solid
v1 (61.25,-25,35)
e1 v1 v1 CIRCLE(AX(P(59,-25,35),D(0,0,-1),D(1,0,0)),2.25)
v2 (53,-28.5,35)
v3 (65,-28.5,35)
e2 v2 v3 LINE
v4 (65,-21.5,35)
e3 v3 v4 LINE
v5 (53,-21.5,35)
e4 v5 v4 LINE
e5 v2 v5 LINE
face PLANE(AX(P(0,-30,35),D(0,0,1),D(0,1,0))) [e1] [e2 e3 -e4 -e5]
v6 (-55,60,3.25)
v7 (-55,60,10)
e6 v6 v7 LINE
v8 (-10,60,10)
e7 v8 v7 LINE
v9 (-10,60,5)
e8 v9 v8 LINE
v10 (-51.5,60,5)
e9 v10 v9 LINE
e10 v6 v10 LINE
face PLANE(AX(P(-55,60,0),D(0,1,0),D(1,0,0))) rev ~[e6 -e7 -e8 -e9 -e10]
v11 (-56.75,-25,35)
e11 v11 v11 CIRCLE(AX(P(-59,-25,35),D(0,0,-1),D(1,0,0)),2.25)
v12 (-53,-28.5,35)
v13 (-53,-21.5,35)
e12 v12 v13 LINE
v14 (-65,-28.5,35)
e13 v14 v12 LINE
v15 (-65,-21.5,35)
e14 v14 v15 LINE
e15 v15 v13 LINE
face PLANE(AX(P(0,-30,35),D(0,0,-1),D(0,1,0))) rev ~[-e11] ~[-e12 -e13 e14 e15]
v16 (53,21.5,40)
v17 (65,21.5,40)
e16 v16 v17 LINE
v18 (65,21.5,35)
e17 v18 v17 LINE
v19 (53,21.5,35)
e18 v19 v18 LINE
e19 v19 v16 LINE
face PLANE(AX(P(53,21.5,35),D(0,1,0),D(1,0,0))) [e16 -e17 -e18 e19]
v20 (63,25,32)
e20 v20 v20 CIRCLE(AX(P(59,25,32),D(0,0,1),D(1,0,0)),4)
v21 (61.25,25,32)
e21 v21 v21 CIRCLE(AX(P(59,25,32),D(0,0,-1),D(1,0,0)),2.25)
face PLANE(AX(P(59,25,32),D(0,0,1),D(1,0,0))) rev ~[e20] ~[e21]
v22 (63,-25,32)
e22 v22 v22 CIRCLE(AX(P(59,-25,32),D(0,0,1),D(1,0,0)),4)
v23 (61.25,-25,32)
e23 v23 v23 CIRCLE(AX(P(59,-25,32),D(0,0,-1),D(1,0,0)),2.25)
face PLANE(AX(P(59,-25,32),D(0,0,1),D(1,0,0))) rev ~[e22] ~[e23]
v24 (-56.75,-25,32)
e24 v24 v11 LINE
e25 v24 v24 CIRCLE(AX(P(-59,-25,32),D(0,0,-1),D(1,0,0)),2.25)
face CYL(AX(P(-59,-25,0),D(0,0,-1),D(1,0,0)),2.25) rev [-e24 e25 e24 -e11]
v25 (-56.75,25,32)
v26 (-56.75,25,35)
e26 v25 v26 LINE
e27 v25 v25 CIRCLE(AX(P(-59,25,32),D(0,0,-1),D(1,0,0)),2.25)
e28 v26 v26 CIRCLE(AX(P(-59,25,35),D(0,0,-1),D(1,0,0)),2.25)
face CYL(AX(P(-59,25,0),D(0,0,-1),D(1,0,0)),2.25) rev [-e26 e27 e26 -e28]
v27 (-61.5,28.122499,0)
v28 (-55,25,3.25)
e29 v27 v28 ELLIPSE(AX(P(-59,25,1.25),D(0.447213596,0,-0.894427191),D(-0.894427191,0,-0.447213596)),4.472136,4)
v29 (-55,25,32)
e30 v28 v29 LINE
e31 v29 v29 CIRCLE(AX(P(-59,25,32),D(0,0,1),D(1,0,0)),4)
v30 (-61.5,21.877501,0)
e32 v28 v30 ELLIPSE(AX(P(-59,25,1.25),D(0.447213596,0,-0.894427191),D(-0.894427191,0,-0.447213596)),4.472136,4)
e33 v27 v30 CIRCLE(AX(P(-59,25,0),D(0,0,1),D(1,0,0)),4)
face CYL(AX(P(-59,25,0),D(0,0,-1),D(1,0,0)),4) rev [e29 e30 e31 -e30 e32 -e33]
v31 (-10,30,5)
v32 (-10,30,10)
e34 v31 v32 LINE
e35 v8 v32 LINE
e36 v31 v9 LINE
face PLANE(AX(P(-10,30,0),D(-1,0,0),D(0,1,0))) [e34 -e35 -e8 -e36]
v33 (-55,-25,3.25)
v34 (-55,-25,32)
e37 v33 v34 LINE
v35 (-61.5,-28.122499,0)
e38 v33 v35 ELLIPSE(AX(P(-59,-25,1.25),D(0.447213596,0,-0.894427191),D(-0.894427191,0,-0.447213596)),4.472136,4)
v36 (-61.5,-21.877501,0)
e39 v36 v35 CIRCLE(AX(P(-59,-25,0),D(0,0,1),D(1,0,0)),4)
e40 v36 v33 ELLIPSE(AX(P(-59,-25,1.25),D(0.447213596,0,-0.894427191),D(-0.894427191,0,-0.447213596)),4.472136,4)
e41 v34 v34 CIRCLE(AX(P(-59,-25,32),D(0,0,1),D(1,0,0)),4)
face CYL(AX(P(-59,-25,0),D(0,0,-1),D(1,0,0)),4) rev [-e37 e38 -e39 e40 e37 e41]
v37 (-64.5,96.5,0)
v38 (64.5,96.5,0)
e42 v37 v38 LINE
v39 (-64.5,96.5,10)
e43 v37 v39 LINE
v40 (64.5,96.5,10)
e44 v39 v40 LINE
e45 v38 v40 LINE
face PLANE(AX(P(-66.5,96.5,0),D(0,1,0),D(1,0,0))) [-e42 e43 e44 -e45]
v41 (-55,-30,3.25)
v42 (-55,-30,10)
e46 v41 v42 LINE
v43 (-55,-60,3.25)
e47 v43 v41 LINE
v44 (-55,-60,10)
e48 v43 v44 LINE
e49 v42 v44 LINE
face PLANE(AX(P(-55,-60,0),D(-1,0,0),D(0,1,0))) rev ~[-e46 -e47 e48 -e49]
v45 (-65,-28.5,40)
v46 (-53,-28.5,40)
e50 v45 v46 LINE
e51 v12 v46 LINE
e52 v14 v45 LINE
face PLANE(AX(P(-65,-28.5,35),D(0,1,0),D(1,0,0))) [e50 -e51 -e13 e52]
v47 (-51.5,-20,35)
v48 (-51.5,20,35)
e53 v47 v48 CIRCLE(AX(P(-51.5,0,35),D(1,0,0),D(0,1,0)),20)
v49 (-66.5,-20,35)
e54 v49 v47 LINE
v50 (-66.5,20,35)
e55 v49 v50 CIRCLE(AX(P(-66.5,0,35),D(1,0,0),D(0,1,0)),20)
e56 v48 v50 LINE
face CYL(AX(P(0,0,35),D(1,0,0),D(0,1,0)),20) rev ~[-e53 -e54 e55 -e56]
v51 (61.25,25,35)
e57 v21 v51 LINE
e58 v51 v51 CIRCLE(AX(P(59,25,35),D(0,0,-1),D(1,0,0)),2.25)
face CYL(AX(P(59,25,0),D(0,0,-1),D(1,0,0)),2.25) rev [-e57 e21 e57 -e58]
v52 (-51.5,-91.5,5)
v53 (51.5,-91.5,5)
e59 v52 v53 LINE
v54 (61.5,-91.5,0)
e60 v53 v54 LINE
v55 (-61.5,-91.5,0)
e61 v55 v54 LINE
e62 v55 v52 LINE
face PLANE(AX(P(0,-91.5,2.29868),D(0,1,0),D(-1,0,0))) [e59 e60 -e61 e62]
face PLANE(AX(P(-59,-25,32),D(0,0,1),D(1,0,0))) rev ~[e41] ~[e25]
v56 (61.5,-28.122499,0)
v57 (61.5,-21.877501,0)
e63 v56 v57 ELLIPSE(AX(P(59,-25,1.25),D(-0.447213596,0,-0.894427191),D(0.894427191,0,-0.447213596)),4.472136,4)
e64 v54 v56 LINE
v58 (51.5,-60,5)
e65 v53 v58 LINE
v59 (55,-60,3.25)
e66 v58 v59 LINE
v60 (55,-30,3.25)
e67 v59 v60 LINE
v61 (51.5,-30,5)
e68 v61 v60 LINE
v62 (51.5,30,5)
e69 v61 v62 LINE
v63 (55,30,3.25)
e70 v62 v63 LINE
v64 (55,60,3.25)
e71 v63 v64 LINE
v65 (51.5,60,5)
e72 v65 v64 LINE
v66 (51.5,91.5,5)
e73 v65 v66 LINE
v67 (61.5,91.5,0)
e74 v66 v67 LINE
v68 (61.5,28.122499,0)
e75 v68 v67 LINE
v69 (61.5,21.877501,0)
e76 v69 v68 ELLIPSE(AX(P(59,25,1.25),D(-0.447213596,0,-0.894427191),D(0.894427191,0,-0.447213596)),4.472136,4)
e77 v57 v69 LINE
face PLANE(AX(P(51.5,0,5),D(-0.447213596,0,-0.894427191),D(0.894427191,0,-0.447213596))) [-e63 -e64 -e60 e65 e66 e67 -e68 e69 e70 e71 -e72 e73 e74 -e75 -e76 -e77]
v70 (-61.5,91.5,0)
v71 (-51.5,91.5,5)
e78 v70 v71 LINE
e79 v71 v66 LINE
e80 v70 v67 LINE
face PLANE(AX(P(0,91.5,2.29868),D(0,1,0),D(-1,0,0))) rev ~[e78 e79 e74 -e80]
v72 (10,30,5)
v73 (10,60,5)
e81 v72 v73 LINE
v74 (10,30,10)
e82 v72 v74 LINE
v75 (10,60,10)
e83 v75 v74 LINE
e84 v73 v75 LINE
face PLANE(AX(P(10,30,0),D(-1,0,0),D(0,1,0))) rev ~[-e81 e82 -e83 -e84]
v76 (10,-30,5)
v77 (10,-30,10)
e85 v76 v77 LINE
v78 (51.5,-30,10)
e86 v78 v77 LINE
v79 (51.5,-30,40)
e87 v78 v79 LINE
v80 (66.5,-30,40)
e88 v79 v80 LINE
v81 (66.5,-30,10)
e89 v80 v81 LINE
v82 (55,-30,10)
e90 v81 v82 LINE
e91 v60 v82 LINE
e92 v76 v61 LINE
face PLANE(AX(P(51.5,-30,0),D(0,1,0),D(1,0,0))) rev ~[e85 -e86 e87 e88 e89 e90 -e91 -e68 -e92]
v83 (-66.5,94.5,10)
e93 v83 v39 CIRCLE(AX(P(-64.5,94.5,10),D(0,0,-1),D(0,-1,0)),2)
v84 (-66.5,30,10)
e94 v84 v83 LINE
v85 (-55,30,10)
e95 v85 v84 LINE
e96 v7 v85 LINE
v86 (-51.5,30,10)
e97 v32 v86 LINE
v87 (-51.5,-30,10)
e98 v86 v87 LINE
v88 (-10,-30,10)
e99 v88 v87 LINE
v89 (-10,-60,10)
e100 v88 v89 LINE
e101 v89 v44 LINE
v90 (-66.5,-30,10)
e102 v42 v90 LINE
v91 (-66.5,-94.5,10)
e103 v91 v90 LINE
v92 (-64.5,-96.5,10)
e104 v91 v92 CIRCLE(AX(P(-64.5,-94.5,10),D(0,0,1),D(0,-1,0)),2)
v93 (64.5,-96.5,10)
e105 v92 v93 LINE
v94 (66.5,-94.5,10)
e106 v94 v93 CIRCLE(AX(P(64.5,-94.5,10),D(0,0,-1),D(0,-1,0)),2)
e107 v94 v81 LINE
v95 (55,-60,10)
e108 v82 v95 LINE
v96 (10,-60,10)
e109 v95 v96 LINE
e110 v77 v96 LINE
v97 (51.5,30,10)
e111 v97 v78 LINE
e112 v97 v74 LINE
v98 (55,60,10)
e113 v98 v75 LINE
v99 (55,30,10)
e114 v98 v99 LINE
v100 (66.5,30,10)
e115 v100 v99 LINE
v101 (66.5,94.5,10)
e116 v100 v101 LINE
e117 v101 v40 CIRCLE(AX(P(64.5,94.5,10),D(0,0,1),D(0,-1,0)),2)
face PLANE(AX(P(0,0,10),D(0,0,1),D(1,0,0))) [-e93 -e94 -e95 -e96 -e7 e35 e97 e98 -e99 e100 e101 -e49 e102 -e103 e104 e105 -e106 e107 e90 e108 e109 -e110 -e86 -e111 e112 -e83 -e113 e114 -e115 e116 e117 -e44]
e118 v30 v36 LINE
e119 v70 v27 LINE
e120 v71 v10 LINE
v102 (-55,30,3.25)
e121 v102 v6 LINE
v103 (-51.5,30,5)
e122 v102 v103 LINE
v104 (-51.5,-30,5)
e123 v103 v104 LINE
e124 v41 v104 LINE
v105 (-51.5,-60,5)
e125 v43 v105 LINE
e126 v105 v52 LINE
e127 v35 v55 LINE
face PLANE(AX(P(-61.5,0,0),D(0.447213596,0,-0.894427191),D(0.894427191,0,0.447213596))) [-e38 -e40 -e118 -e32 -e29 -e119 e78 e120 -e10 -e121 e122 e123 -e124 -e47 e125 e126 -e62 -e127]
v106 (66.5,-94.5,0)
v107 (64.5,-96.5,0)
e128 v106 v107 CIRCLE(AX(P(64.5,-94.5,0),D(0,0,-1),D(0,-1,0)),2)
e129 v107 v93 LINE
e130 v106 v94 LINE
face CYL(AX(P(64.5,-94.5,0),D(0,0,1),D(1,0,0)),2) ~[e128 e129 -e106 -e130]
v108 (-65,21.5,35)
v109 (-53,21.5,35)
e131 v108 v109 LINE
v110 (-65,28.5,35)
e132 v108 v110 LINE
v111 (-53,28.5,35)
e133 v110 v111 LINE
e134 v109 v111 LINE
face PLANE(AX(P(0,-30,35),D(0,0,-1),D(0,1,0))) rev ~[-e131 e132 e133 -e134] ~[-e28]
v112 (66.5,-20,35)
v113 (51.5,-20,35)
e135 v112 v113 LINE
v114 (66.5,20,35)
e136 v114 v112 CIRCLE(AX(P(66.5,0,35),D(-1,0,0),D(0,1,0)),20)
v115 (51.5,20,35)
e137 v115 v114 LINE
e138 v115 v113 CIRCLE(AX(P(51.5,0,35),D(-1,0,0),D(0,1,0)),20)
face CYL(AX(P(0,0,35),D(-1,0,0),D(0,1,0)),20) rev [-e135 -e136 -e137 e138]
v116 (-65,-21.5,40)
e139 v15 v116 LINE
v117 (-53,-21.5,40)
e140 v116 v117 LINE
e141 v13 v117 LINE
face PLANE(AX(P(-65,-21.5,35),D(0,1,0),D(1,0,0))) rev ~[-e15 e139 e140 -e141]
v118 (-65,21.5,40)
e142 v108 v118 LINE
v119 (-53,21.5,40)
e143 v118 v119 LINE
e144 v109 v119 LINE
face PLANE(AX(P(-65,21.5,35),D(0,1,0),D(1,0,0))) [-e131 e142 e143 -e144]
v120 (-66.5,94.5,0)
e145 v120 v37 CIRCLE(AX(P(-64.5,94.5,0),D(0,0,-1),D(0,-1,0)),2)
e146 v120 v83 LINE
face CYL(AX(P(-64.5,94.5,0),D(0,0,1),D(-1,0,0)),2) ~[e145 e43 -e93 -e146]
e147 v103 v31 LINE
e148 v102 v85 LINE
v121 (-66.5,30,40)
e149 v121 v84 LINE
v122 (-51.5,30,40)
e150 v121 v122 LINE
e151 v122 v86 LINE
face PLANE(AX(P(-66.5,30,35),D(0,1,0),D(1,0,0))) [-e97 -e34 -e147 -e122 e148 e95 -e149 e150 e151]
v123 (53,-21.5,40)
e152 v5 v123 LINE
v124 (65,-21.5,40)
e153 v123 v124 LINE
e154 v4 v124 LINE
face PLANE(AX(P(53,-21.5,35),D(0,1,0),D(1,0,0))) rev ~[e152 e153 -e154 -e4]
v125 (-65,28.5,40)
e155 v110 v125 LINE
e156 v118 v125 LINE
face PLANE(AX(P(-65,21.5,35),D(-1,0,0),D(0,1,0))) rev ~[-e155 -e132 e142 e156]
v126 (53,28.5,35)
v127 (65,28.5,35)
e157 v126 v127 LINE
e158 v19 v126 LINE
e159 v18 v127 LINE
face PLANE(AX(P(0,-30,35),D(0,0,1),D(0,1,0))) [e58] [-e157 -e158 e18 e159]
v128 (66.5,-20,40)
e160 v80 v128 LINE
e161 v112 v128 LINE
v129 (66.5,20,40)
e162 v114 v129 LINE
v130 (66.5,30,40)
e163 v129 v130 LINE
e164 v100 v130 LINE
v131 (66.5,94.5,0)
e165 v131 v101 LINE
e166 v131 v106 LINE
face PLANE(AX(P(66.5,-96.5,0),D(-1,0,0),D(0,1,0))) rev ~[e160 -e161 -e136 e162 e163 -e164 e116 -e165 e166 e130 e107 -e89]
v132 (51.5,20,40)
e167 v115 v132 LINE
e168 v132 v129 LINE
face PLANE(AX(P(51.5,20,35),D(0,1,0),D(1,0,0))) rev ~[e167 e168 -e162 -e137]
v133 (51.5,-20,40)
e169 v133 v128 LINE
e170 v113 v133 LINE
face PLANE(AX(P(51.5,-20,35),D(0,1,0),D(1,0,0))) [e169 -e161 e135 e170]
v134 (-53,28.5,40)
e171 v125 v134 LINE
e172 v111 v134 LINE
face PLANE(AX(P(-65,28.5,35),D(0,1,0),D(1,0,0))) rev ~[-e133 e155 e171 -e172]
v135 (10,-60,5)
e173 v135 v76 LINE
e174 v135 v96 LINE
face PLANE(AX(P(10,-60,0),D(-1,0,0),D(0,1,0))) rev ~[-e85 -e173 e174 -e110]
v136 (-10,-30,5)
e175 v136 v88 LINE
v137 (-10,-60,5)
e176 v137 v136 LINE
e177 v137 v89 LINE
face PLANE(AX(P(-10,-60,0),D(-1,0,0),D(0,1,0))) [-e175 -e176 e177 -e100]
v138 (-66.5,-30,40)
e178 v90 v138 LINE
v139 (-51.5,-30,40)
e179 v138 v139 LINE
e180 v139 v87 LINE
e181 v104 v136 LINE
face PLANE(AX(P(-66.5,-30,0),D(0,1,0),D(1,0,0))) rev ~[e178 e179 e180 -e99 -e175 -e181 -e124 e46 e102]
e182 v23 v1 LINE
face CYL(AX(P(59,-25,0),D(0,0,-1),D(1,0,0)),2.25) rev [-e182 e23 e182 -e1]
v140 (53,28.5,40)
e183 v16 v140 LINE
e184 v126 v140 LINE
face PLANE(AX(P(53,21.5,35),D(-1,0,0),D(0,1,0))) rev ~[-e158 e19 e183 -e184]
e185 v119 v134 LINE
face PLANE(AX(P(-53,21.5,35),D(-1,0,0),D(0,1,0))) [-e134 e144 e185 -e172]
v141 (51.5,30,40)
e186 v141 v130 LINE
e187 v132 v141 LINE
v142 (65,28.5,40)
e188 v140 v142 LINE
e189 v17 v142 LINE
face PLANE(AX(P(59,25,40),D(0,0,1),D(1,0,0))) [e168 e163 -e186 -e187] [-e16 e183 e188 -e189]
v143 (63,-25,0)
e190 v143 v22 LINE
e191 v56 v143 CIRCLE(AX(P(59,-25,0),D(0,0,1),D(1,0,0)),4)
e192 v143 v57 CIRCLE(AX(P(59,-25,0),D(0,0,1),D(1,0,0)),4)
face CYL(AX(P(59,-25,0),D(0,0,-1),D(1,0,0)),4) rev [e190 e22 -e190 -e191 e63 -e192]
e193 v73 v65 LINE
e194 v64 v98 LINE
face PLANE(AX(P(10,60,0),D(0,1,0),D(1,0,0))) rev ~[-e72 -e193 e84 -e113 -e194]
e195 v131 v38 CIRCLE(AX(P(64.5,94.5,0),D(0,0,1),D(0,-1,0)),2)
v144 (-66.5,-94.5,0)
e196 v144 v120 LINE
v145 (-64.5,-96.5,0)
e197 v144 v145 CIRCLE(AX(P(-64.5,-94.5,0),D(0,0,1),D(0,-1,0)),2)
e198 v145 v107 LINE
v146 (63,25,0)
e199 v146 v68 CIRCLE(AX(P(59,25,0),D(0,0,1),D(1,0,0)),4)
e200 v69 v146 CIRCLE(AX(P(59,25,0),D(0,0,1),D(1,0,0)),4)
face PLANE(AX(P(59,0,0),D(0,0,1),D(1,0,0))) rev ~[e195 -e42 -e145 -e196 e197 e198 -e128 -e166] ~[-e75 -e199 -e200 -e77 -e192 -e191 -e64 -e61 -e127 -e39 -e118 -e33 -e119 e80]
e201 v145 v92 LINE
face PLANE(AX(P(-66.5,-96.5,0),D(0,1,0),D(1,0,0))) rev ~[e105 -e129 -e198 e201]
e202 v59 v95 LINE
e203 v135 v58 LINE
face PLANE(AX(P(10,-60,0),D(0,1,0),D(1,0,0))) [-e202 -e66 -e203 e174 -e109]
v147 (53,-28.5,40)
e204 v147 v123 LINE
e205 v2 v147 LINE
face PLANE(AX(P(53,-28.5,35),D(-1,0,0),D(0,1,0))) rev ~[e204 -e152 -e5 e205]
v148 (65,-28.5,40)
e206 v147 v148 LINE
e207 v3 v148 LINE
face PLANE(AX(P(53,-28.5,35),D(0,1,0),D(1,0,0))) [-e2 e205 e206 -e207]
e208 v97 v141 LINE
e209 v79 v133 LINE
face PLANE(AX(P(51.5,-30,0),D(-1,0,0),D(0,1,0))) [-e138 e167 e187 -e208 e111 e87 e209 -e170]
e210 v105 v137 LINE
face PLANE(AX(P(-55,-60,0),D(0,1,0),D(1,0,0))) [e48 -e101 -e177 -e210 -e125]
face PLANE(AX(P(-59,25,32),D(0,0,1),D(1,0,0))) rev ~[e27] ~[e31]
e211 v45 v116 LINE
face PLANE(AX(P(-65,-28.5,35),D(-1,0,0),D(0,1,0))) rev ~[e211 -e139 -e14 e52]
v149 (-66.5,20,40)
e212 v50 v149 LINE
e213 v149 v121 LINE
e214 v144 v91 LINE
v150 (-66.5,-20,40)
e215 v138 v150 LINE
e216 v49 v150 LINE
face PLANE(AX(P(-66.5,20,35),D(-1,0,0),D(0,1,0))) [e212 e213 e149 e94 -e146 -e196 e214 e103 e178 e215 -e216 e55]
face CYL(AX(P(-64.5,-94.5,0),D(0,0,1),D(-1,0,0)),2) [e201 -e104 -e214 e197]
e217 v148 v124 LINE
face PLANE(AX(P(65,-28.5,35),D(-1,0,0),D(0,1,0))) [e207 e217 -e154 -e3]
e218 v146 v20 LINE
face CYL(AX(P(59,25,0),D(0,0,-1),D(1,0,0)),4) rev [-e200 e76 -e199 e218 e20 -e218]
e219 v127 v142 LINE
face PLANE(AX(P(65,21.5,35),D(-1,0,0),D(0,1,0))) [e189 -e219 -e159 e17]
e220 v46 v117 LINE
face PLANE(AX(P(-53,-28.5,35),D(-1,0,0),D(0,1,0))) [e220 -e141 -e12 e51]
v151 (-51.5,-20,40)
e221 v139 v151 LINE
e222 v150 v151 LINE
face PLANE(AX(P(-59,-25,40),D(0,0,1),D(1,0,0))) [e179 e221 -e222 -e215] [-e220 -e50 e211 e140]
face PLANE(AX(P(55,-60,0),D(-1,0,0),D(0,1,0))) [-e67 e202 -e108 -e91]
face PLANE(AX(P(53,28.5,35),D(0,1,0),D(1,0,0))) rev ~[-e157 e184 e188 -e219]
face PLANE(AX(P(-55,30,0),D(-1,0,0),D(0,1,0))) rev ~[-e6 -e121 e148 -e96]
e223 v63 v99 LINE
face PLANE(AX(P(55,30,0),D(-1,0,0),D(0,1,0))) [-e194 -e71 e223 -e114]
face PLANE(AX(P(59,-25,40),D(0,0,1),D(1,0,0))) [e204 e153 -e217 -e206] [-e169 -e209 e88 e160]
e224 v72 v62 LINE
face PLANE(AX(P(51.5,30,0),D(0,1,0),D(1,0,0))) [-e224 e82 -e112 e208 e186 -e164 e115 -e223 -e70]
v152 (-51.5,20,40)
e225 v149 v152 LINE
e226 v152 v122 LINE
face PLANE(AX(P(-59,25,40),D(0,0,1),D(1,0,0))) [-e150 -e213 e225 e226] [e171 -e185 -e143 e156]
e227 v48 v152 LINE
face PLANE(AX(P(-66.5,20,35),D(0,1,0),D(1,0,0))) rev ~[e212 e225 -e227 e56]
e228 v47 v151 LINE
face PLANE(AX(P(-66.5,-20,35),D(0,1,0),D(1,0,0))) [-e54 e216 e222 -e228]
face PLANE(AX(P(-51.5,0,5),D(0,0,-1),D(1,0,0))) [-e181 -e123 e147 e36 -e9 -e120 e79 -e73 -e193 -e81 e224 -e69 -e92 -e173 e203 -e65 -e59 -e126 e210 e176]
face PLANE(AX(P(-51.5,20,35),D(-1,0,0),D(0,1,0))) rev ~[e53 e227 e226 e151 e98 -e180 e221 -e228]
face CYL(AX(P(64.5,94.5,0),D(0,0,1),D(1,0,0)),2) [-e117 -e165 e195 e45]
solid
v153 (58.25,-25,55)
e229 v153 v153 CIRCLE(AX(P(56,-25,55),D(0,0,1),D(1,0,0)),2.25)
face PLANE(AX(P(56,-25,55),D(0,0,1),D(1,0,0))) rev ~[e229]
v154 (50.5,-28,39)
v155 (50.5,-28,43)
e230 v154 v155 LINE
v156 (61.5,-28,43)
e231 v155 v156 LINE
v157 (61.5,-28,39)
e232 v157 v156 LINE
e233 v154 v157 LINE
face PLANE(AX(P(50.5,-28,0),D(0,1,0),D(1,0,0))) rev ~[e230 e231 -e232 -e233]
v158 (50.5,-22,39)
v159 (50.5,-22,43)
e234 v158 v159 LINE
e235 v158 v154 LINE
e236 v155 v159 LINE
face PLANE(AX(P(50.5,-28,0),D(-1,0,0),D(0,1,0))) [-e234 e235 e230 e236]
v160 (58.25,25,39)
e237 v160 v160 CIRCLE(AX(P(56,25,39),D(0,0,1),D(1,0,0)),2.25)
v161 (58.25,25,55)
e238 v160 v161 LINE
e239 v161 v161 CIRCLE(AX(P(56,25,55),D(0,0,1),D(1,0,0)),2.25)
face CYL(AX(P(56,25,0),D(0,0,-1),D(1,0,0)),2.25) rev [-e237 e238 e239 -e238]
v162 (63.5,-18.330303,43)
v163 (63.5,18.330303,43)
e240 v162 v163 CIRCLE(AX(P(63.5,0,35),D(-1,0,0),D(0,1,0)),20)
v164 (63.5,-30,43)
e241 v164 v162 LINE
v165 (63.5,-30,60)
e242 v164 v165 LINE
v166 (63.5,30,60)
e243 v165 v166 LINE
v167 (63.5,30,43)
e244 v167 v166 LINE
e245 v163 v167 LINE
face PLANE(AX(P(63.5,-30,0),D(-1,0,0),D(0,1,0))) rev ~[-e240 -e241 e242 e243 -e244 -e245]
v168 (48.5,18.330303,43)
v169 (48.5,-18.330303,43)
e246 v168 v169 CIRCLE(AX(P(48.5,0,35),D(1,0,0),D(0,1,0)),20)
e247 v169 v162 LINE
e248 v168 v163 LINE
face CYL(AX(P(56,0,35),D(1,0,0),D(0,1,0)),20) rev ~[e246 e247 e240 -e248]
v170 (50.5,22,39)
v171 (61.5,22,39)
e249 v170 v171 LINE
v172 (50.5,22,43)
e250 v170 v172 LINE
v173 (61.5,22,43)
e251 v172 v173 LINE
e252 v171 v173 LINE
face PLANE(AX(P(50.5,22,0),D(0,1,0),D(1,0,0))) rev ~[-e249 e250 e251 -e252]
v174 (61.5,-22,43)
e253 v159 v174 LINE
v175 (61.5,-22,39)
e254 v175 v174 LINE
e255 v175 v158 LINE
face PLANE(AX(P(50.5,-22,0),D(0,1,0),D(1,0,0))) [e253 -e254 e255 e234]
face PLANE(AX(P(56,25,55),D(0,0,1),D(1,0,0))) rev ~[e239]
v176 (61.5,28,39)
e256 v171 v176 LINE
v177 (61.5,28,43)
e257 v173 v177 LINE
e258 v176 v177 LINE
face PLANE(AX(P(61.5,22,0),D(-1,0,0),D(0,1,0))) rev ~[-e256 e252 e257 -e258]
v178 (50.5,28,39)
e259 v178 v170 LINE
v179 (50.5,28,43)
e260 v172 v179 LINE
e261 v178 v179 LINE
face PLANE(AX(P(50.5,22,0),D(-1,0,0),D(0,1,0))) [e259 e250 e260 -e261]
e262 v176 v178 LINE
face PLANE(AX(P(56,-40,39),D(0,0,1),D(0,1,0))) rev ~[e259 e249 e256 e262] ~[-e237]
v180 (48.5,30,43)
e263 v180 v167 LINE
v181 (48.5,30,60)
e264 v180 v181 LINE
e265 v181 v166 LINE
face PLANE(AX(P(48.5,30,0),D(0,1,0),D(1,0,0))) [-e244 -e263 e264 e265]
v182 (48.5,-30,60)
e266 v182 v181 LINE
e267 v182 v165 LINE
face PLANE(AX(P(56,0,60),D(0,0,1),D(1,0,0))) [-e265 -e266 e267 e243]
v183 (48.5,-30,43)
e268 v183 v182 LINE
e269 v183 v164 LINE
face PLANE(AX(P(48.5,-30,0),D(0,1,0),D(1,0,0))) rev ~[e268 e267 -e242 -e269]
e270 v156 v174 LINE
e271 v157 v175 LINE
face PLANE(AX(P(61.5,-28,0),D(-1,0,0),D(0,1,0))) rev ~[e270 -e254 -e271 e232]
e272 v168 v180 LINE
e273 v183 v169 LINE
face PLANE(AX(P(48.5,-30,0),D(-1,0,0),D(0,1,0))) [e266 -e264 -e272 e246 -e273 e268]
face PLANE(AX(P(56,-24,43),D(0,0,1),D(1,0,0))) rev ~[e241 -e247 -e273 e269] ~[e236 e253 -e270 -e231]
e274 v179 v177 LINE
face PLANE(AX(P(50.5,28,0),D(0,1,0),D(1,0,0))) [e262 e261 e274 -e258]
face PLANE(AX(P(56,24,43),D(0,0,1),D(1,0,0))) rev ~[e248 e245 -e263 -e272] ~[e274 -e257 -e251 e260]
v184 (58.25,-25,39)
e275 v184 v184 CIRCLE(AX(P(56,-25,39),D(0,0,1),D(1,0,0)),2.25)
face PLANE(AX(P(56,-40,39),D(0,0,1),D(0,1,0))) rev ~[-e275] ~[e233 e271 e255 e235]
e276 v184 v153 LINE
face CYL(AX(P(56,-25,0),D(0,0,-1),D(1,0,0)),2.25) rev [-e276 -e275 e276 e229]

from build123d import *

# Parameters (mm, degrees)
SKETCH_W             = 133
SKETCH_H             = 193
PAD_DEPTH            = 10
SKETCH001_W          = 15
SKETCH001_H          = 60
PAD001_DEPTH         = 60
POCKET_DEPTH         = 91.5
SKETCH003_W          = 45
SKETCH003_H          = 30
POCKET001_DEPTH      = 60.001
SKETCH004_R          = 20
POCKET002_DEPTH      = 66.501
POCKET002_DEPTH_BACK = -66.501
SKETCH005_W          = 60
SKETCH005_H          = 60
POCKET003_DEPTH      = 66.501
POCKET003_DEPTH_BACK = -66.501
SKETCH006_R          = 2.25
POCKET004_DEPTH      = 0.001
POCKET004_DEPTH_BACK = -35.001
SKETCH007_R          = 4
POCKET005_DEPTH      = 32
SKETCH008_W          = 15
SKETCH008_H          = 10
SKETCH008_W_2        = 12
SKETCH008_H_2        = 7
PAD002_DEPTH         = 5
FILLET_R             = 2
SKETCH009_W          = 15
SKETCH009_H          = 60
PAD003_DEPTH         = 60
SKETCH010_R          = 20
POCKET006_DEPTH      = 7.501
POCKET006_DEPTH_BACK = -7.501
SKETCH011_W          = 60
SKETCH011_H          = 40
POCKET007_DEPTH      = 7.501
POCKET007_DEPTH_BACK = -7.501
SKETCH012_R          = 2.25
POCKET008_DEPTH      = 55
SKETCH013_W          = 15
SKETCH013_H          = 12
SKETCH013_W_2        = 11
SKETCH013_H_2        = 6
POCKET009_DEPTH      = 43
SKETCH014_W          = 80
SKETCH014_H          = 39
POCKET010_DEPTH      = 7.501
POCKET010_DEPTH_BACK = -7.501


with BuildPart() as body:
    # Sketch → Pad (new body)
    with BuildSketch(Plane.XY):
        Rectangle(SKETCH_W, SKETCH_H)
    extrude(amount=PAD_DEPTH)

    # Sketch001 → Pad001 (join)
    with BuildSketch(Plane.XY):
        with Locations((59, 0)):
            Rectangle(SKETCH001_W, SKETCH001_H)
        with Locations((-59, 0)):
            Rectangle(SKETCH001_W, SKETCH001_H)
    extrude(amount=PAD001_DEPTH)

    # Sketch002 → Pocket (cut, symmetric)
    with BuildSketch(Plane.XZ):
        Polygon((-51.5, 5), (51.5, 5), (61.5, 0), (0, 0), (-61.5, 0), align=None)
    extrude(amount=POCKET_DEPTH, both=True, mode=Mode.SUBTRACT)

    # Sketch003 → Pocket001 (cut, through all)
    with BuildSketch(Plane.XY):
        with Locations((-32.5, 45)):
            Rectangle(SKETCH003_W, SKETCH003_H)
        with Locations((32.5, 45)):
            Rectangle(SKETCH003_W, SKETCH003_H)
        with Locations((32.5, -45)):
            Rectangle(SKETCH003_W, SKETCH003_H)
        with Locations((-32.5, -45)):
            Rectangle(SKETCH003_W, SKETCH003_H)
    extrude(amount=POCKET001_DEPTH, mode=Mode.SUBTRACT)

    # Sketch004 → Pocket002 (cut, two sides)
    with BuildSketch(Plane.YZ) as pocket002_sk:
        with Locations((0, 35)):
            Circle(SKETCH004_R)
    extrude(amount=-POCKET002_DEPTH, mode=Mode.SUBTRACT)
    extrude(pocket002_sk.sketch, amount=-POCKET002_DEPTH_BACK, mode=Mode.SUBTRACT)

    # Sketch005 → Pocket003 (cut, two sides)
    with BuildSketch(Plane.YZ) as pocket003_sk:
        with Locations((0, 65)):
            Rectangle(SKETCH005_W, SKETCH005_H)
    extrude(amount=-POCKET003_DEPTH, mode=Mode.SUBTRACT)
    extrude(pocket003_sk.sketch, amount=-POCKET003_DEPTH_BACK, mode=Mode.SUBTRACT)

    # Sketch006 → Pocket004 (cut, two sides)
    with BuildSketch(Plane.XY) as pocket004_sk:
        with Locations((-59, 25)):
            Circle(SKETCH006_R)
        with Locations((59, 25)):
            Circle(SKETCH006_R)
        with Locations((59, -25)):
            Circle(SKETCH006_R)
        with Locations((-59, -25)):
            Circle(SKETCH006_R)
    extrude(amount=-POCKET004_DEPTH, mode=Mode.SUBTRACT)
    extrude(pocket004_sk.sketch, amount=-POCKET004_DEPTH_BACK, mode=Mode.SUBTRACT)

    # Sketch007 → Pocket005 (cut)
    with BuildSketch(Plane.XY):
        with Locations((-59, 25)):
            Circle(SKETCH007_R)
        with Locations((59, 25)):
            Circle(SKETCH007_R)
        with Locations((59, -25)):
            Circle(SKETCH007_R)
        with Locations((-59, -25)):
            Circle(SKETCH007_R)
    extrude(amount=POCKET005_DEPTH, mode=Mode.SUBTRACT)

    # Sketch008 (on Face50 of Pocket005) → Pad002 (join)
    with BuildSketch(Plane.XY.offset(35)):
        with Locations((-59, 25)):
            Rectangle(SKETCH008_W, SKETCH008_H)
        with Locations((-59, 25)):
            Rectangle(SKETCH008_W_2, SKETCH008_H_2, mode=Mode.SUBTRACT)
        with Locations((-59, -25)):
            Rectangle(SKETCH008_W, SKETCH008_H)
        with Locations((-59, -25)):
            Rectangle(SKETCH008_W_2, SKETCH008_H_2, mode=Mode.SUBTRACT)
        with Locations((59, -25)):
            Rectangle(SKETCH008_W, SKETCH008_H)
        with Locations((59, -25)):
            Rectangle(SKETCH008_W_2, SKETCH008_H_2, mode=Mode.SUBTRACT)
        with Locations((59, 25)):
            Rectangle(SKETCH008_W, SKETCH008_H)
        with Locations((59, 25)):
            Rectangle(SKETCH008_W_2, SKETCH008_H_2, mode=Mode.SUBTRACT)
    extrude(amount=PAD002_DEPTH)

    # Fillet
    fillet_edges = [body.edges().sort_by_distance(p)[0] for p in [
        (-66.5, 96.5, 5),
        (66.5, 96.5, 5),
        (-66.5, -96.5, 5),
        (66.5, -96.5, 5),
    ]]
    fillet(fillet_edges, radius=FILLET_R)


with BuildPart() as hole_fixer:
    # Sketch009 → Pad003 (new body)
    with BuildSketch(Plane.XY):
        Rectangle(SKETCH009_W, SKETCH009_H)
    extrude(amount=PAD003_DEPTH)

    # Sketch010 → Pocket006 (cut, two sides)
    with BuildSketch(Plane.YZ) as pocket006_sk:
        with Locations((0, 35)):
            Circle(SKETCH010_R)
    extrude(amount=-POCKET006_DEPTH, mode=Mode.SUBTRACT)
    extrude(pocket006_sk.sketch, amount=-POCKET006_DEPTH_BACK, mode=Mode.SUBTRACT)

    # Sketch011 → Pocket007 (cut, two sides)
    with BuildSketch(Plane.YZ) as pocket007_sk:
        with Locations((0, 15)):
            Rectangle(SKETCH011_W, SKETCH011_H)
    extrude(amount=-POCKET007_DEPTH, mode=Mode.SUBTRACT)
    extrude(pocket007_sk.sketch, amount=-POCKET007_DEPTH_BACK, mode=Mode.SUBTRACT)

    # Sketch012 → Pocket008 (cut)
    with BuildSketch(Plane.XY):
        with Locations((0, 25)):
            Circle(SKETCH012_R)
        with Locations((0, -25)):
            Circle(SKETCH012_R)
    extrude(amount=POCKET008_DEPTH, mode=Mode.SUBTRACT)

    # Sketch013 → Pocket009 (cut)
    with BuildSketch(Plane.XY):
        with Locations((0, 24)):
            Rectangle(SKETCH013_W, SKETCH013_H)
        with Locations((0, 25)):
            Rectangle(SKETCH013_W_2, SKETCH013_H_2, mode=Mode.SUBTRACT)
        with Locations((0, -24)):
            Rectangle(SKETCH013_W, SKETCH013_H)
        with Locations((0, -25)):
            Rectangle(SKETCH013_W_2, SKETCH013_H_2, mode=Mode.SUBTRACT)
    extrude(amount=POCKET009_DEPTH, mode=Mode.SUBTRACT)

    # Sketch014 → Pocket010 (cut, two sides)
    with BuildSketch(Plane.YZ) as pocket010_sk:
        with Locations((0, 19.5)):
            Rectangle(SKETCH014_W, SKETCH014_H)
    extrude(amount=-POCKET010_DEPTH, mode=Mode.SUBTRACT)
    extrude(pocket010_sk.sketch, amount=-POCKET010_DEPTH_BACK, mode=Mode.SUBTRACT)


with BuildPart() as hole_fixer_1:
    # Body001 placement: moved
    add(hole_fixer.part.moved(Location((56, 0, 0))))


solid = Compound([body.part, hole_fixer_1.part])
